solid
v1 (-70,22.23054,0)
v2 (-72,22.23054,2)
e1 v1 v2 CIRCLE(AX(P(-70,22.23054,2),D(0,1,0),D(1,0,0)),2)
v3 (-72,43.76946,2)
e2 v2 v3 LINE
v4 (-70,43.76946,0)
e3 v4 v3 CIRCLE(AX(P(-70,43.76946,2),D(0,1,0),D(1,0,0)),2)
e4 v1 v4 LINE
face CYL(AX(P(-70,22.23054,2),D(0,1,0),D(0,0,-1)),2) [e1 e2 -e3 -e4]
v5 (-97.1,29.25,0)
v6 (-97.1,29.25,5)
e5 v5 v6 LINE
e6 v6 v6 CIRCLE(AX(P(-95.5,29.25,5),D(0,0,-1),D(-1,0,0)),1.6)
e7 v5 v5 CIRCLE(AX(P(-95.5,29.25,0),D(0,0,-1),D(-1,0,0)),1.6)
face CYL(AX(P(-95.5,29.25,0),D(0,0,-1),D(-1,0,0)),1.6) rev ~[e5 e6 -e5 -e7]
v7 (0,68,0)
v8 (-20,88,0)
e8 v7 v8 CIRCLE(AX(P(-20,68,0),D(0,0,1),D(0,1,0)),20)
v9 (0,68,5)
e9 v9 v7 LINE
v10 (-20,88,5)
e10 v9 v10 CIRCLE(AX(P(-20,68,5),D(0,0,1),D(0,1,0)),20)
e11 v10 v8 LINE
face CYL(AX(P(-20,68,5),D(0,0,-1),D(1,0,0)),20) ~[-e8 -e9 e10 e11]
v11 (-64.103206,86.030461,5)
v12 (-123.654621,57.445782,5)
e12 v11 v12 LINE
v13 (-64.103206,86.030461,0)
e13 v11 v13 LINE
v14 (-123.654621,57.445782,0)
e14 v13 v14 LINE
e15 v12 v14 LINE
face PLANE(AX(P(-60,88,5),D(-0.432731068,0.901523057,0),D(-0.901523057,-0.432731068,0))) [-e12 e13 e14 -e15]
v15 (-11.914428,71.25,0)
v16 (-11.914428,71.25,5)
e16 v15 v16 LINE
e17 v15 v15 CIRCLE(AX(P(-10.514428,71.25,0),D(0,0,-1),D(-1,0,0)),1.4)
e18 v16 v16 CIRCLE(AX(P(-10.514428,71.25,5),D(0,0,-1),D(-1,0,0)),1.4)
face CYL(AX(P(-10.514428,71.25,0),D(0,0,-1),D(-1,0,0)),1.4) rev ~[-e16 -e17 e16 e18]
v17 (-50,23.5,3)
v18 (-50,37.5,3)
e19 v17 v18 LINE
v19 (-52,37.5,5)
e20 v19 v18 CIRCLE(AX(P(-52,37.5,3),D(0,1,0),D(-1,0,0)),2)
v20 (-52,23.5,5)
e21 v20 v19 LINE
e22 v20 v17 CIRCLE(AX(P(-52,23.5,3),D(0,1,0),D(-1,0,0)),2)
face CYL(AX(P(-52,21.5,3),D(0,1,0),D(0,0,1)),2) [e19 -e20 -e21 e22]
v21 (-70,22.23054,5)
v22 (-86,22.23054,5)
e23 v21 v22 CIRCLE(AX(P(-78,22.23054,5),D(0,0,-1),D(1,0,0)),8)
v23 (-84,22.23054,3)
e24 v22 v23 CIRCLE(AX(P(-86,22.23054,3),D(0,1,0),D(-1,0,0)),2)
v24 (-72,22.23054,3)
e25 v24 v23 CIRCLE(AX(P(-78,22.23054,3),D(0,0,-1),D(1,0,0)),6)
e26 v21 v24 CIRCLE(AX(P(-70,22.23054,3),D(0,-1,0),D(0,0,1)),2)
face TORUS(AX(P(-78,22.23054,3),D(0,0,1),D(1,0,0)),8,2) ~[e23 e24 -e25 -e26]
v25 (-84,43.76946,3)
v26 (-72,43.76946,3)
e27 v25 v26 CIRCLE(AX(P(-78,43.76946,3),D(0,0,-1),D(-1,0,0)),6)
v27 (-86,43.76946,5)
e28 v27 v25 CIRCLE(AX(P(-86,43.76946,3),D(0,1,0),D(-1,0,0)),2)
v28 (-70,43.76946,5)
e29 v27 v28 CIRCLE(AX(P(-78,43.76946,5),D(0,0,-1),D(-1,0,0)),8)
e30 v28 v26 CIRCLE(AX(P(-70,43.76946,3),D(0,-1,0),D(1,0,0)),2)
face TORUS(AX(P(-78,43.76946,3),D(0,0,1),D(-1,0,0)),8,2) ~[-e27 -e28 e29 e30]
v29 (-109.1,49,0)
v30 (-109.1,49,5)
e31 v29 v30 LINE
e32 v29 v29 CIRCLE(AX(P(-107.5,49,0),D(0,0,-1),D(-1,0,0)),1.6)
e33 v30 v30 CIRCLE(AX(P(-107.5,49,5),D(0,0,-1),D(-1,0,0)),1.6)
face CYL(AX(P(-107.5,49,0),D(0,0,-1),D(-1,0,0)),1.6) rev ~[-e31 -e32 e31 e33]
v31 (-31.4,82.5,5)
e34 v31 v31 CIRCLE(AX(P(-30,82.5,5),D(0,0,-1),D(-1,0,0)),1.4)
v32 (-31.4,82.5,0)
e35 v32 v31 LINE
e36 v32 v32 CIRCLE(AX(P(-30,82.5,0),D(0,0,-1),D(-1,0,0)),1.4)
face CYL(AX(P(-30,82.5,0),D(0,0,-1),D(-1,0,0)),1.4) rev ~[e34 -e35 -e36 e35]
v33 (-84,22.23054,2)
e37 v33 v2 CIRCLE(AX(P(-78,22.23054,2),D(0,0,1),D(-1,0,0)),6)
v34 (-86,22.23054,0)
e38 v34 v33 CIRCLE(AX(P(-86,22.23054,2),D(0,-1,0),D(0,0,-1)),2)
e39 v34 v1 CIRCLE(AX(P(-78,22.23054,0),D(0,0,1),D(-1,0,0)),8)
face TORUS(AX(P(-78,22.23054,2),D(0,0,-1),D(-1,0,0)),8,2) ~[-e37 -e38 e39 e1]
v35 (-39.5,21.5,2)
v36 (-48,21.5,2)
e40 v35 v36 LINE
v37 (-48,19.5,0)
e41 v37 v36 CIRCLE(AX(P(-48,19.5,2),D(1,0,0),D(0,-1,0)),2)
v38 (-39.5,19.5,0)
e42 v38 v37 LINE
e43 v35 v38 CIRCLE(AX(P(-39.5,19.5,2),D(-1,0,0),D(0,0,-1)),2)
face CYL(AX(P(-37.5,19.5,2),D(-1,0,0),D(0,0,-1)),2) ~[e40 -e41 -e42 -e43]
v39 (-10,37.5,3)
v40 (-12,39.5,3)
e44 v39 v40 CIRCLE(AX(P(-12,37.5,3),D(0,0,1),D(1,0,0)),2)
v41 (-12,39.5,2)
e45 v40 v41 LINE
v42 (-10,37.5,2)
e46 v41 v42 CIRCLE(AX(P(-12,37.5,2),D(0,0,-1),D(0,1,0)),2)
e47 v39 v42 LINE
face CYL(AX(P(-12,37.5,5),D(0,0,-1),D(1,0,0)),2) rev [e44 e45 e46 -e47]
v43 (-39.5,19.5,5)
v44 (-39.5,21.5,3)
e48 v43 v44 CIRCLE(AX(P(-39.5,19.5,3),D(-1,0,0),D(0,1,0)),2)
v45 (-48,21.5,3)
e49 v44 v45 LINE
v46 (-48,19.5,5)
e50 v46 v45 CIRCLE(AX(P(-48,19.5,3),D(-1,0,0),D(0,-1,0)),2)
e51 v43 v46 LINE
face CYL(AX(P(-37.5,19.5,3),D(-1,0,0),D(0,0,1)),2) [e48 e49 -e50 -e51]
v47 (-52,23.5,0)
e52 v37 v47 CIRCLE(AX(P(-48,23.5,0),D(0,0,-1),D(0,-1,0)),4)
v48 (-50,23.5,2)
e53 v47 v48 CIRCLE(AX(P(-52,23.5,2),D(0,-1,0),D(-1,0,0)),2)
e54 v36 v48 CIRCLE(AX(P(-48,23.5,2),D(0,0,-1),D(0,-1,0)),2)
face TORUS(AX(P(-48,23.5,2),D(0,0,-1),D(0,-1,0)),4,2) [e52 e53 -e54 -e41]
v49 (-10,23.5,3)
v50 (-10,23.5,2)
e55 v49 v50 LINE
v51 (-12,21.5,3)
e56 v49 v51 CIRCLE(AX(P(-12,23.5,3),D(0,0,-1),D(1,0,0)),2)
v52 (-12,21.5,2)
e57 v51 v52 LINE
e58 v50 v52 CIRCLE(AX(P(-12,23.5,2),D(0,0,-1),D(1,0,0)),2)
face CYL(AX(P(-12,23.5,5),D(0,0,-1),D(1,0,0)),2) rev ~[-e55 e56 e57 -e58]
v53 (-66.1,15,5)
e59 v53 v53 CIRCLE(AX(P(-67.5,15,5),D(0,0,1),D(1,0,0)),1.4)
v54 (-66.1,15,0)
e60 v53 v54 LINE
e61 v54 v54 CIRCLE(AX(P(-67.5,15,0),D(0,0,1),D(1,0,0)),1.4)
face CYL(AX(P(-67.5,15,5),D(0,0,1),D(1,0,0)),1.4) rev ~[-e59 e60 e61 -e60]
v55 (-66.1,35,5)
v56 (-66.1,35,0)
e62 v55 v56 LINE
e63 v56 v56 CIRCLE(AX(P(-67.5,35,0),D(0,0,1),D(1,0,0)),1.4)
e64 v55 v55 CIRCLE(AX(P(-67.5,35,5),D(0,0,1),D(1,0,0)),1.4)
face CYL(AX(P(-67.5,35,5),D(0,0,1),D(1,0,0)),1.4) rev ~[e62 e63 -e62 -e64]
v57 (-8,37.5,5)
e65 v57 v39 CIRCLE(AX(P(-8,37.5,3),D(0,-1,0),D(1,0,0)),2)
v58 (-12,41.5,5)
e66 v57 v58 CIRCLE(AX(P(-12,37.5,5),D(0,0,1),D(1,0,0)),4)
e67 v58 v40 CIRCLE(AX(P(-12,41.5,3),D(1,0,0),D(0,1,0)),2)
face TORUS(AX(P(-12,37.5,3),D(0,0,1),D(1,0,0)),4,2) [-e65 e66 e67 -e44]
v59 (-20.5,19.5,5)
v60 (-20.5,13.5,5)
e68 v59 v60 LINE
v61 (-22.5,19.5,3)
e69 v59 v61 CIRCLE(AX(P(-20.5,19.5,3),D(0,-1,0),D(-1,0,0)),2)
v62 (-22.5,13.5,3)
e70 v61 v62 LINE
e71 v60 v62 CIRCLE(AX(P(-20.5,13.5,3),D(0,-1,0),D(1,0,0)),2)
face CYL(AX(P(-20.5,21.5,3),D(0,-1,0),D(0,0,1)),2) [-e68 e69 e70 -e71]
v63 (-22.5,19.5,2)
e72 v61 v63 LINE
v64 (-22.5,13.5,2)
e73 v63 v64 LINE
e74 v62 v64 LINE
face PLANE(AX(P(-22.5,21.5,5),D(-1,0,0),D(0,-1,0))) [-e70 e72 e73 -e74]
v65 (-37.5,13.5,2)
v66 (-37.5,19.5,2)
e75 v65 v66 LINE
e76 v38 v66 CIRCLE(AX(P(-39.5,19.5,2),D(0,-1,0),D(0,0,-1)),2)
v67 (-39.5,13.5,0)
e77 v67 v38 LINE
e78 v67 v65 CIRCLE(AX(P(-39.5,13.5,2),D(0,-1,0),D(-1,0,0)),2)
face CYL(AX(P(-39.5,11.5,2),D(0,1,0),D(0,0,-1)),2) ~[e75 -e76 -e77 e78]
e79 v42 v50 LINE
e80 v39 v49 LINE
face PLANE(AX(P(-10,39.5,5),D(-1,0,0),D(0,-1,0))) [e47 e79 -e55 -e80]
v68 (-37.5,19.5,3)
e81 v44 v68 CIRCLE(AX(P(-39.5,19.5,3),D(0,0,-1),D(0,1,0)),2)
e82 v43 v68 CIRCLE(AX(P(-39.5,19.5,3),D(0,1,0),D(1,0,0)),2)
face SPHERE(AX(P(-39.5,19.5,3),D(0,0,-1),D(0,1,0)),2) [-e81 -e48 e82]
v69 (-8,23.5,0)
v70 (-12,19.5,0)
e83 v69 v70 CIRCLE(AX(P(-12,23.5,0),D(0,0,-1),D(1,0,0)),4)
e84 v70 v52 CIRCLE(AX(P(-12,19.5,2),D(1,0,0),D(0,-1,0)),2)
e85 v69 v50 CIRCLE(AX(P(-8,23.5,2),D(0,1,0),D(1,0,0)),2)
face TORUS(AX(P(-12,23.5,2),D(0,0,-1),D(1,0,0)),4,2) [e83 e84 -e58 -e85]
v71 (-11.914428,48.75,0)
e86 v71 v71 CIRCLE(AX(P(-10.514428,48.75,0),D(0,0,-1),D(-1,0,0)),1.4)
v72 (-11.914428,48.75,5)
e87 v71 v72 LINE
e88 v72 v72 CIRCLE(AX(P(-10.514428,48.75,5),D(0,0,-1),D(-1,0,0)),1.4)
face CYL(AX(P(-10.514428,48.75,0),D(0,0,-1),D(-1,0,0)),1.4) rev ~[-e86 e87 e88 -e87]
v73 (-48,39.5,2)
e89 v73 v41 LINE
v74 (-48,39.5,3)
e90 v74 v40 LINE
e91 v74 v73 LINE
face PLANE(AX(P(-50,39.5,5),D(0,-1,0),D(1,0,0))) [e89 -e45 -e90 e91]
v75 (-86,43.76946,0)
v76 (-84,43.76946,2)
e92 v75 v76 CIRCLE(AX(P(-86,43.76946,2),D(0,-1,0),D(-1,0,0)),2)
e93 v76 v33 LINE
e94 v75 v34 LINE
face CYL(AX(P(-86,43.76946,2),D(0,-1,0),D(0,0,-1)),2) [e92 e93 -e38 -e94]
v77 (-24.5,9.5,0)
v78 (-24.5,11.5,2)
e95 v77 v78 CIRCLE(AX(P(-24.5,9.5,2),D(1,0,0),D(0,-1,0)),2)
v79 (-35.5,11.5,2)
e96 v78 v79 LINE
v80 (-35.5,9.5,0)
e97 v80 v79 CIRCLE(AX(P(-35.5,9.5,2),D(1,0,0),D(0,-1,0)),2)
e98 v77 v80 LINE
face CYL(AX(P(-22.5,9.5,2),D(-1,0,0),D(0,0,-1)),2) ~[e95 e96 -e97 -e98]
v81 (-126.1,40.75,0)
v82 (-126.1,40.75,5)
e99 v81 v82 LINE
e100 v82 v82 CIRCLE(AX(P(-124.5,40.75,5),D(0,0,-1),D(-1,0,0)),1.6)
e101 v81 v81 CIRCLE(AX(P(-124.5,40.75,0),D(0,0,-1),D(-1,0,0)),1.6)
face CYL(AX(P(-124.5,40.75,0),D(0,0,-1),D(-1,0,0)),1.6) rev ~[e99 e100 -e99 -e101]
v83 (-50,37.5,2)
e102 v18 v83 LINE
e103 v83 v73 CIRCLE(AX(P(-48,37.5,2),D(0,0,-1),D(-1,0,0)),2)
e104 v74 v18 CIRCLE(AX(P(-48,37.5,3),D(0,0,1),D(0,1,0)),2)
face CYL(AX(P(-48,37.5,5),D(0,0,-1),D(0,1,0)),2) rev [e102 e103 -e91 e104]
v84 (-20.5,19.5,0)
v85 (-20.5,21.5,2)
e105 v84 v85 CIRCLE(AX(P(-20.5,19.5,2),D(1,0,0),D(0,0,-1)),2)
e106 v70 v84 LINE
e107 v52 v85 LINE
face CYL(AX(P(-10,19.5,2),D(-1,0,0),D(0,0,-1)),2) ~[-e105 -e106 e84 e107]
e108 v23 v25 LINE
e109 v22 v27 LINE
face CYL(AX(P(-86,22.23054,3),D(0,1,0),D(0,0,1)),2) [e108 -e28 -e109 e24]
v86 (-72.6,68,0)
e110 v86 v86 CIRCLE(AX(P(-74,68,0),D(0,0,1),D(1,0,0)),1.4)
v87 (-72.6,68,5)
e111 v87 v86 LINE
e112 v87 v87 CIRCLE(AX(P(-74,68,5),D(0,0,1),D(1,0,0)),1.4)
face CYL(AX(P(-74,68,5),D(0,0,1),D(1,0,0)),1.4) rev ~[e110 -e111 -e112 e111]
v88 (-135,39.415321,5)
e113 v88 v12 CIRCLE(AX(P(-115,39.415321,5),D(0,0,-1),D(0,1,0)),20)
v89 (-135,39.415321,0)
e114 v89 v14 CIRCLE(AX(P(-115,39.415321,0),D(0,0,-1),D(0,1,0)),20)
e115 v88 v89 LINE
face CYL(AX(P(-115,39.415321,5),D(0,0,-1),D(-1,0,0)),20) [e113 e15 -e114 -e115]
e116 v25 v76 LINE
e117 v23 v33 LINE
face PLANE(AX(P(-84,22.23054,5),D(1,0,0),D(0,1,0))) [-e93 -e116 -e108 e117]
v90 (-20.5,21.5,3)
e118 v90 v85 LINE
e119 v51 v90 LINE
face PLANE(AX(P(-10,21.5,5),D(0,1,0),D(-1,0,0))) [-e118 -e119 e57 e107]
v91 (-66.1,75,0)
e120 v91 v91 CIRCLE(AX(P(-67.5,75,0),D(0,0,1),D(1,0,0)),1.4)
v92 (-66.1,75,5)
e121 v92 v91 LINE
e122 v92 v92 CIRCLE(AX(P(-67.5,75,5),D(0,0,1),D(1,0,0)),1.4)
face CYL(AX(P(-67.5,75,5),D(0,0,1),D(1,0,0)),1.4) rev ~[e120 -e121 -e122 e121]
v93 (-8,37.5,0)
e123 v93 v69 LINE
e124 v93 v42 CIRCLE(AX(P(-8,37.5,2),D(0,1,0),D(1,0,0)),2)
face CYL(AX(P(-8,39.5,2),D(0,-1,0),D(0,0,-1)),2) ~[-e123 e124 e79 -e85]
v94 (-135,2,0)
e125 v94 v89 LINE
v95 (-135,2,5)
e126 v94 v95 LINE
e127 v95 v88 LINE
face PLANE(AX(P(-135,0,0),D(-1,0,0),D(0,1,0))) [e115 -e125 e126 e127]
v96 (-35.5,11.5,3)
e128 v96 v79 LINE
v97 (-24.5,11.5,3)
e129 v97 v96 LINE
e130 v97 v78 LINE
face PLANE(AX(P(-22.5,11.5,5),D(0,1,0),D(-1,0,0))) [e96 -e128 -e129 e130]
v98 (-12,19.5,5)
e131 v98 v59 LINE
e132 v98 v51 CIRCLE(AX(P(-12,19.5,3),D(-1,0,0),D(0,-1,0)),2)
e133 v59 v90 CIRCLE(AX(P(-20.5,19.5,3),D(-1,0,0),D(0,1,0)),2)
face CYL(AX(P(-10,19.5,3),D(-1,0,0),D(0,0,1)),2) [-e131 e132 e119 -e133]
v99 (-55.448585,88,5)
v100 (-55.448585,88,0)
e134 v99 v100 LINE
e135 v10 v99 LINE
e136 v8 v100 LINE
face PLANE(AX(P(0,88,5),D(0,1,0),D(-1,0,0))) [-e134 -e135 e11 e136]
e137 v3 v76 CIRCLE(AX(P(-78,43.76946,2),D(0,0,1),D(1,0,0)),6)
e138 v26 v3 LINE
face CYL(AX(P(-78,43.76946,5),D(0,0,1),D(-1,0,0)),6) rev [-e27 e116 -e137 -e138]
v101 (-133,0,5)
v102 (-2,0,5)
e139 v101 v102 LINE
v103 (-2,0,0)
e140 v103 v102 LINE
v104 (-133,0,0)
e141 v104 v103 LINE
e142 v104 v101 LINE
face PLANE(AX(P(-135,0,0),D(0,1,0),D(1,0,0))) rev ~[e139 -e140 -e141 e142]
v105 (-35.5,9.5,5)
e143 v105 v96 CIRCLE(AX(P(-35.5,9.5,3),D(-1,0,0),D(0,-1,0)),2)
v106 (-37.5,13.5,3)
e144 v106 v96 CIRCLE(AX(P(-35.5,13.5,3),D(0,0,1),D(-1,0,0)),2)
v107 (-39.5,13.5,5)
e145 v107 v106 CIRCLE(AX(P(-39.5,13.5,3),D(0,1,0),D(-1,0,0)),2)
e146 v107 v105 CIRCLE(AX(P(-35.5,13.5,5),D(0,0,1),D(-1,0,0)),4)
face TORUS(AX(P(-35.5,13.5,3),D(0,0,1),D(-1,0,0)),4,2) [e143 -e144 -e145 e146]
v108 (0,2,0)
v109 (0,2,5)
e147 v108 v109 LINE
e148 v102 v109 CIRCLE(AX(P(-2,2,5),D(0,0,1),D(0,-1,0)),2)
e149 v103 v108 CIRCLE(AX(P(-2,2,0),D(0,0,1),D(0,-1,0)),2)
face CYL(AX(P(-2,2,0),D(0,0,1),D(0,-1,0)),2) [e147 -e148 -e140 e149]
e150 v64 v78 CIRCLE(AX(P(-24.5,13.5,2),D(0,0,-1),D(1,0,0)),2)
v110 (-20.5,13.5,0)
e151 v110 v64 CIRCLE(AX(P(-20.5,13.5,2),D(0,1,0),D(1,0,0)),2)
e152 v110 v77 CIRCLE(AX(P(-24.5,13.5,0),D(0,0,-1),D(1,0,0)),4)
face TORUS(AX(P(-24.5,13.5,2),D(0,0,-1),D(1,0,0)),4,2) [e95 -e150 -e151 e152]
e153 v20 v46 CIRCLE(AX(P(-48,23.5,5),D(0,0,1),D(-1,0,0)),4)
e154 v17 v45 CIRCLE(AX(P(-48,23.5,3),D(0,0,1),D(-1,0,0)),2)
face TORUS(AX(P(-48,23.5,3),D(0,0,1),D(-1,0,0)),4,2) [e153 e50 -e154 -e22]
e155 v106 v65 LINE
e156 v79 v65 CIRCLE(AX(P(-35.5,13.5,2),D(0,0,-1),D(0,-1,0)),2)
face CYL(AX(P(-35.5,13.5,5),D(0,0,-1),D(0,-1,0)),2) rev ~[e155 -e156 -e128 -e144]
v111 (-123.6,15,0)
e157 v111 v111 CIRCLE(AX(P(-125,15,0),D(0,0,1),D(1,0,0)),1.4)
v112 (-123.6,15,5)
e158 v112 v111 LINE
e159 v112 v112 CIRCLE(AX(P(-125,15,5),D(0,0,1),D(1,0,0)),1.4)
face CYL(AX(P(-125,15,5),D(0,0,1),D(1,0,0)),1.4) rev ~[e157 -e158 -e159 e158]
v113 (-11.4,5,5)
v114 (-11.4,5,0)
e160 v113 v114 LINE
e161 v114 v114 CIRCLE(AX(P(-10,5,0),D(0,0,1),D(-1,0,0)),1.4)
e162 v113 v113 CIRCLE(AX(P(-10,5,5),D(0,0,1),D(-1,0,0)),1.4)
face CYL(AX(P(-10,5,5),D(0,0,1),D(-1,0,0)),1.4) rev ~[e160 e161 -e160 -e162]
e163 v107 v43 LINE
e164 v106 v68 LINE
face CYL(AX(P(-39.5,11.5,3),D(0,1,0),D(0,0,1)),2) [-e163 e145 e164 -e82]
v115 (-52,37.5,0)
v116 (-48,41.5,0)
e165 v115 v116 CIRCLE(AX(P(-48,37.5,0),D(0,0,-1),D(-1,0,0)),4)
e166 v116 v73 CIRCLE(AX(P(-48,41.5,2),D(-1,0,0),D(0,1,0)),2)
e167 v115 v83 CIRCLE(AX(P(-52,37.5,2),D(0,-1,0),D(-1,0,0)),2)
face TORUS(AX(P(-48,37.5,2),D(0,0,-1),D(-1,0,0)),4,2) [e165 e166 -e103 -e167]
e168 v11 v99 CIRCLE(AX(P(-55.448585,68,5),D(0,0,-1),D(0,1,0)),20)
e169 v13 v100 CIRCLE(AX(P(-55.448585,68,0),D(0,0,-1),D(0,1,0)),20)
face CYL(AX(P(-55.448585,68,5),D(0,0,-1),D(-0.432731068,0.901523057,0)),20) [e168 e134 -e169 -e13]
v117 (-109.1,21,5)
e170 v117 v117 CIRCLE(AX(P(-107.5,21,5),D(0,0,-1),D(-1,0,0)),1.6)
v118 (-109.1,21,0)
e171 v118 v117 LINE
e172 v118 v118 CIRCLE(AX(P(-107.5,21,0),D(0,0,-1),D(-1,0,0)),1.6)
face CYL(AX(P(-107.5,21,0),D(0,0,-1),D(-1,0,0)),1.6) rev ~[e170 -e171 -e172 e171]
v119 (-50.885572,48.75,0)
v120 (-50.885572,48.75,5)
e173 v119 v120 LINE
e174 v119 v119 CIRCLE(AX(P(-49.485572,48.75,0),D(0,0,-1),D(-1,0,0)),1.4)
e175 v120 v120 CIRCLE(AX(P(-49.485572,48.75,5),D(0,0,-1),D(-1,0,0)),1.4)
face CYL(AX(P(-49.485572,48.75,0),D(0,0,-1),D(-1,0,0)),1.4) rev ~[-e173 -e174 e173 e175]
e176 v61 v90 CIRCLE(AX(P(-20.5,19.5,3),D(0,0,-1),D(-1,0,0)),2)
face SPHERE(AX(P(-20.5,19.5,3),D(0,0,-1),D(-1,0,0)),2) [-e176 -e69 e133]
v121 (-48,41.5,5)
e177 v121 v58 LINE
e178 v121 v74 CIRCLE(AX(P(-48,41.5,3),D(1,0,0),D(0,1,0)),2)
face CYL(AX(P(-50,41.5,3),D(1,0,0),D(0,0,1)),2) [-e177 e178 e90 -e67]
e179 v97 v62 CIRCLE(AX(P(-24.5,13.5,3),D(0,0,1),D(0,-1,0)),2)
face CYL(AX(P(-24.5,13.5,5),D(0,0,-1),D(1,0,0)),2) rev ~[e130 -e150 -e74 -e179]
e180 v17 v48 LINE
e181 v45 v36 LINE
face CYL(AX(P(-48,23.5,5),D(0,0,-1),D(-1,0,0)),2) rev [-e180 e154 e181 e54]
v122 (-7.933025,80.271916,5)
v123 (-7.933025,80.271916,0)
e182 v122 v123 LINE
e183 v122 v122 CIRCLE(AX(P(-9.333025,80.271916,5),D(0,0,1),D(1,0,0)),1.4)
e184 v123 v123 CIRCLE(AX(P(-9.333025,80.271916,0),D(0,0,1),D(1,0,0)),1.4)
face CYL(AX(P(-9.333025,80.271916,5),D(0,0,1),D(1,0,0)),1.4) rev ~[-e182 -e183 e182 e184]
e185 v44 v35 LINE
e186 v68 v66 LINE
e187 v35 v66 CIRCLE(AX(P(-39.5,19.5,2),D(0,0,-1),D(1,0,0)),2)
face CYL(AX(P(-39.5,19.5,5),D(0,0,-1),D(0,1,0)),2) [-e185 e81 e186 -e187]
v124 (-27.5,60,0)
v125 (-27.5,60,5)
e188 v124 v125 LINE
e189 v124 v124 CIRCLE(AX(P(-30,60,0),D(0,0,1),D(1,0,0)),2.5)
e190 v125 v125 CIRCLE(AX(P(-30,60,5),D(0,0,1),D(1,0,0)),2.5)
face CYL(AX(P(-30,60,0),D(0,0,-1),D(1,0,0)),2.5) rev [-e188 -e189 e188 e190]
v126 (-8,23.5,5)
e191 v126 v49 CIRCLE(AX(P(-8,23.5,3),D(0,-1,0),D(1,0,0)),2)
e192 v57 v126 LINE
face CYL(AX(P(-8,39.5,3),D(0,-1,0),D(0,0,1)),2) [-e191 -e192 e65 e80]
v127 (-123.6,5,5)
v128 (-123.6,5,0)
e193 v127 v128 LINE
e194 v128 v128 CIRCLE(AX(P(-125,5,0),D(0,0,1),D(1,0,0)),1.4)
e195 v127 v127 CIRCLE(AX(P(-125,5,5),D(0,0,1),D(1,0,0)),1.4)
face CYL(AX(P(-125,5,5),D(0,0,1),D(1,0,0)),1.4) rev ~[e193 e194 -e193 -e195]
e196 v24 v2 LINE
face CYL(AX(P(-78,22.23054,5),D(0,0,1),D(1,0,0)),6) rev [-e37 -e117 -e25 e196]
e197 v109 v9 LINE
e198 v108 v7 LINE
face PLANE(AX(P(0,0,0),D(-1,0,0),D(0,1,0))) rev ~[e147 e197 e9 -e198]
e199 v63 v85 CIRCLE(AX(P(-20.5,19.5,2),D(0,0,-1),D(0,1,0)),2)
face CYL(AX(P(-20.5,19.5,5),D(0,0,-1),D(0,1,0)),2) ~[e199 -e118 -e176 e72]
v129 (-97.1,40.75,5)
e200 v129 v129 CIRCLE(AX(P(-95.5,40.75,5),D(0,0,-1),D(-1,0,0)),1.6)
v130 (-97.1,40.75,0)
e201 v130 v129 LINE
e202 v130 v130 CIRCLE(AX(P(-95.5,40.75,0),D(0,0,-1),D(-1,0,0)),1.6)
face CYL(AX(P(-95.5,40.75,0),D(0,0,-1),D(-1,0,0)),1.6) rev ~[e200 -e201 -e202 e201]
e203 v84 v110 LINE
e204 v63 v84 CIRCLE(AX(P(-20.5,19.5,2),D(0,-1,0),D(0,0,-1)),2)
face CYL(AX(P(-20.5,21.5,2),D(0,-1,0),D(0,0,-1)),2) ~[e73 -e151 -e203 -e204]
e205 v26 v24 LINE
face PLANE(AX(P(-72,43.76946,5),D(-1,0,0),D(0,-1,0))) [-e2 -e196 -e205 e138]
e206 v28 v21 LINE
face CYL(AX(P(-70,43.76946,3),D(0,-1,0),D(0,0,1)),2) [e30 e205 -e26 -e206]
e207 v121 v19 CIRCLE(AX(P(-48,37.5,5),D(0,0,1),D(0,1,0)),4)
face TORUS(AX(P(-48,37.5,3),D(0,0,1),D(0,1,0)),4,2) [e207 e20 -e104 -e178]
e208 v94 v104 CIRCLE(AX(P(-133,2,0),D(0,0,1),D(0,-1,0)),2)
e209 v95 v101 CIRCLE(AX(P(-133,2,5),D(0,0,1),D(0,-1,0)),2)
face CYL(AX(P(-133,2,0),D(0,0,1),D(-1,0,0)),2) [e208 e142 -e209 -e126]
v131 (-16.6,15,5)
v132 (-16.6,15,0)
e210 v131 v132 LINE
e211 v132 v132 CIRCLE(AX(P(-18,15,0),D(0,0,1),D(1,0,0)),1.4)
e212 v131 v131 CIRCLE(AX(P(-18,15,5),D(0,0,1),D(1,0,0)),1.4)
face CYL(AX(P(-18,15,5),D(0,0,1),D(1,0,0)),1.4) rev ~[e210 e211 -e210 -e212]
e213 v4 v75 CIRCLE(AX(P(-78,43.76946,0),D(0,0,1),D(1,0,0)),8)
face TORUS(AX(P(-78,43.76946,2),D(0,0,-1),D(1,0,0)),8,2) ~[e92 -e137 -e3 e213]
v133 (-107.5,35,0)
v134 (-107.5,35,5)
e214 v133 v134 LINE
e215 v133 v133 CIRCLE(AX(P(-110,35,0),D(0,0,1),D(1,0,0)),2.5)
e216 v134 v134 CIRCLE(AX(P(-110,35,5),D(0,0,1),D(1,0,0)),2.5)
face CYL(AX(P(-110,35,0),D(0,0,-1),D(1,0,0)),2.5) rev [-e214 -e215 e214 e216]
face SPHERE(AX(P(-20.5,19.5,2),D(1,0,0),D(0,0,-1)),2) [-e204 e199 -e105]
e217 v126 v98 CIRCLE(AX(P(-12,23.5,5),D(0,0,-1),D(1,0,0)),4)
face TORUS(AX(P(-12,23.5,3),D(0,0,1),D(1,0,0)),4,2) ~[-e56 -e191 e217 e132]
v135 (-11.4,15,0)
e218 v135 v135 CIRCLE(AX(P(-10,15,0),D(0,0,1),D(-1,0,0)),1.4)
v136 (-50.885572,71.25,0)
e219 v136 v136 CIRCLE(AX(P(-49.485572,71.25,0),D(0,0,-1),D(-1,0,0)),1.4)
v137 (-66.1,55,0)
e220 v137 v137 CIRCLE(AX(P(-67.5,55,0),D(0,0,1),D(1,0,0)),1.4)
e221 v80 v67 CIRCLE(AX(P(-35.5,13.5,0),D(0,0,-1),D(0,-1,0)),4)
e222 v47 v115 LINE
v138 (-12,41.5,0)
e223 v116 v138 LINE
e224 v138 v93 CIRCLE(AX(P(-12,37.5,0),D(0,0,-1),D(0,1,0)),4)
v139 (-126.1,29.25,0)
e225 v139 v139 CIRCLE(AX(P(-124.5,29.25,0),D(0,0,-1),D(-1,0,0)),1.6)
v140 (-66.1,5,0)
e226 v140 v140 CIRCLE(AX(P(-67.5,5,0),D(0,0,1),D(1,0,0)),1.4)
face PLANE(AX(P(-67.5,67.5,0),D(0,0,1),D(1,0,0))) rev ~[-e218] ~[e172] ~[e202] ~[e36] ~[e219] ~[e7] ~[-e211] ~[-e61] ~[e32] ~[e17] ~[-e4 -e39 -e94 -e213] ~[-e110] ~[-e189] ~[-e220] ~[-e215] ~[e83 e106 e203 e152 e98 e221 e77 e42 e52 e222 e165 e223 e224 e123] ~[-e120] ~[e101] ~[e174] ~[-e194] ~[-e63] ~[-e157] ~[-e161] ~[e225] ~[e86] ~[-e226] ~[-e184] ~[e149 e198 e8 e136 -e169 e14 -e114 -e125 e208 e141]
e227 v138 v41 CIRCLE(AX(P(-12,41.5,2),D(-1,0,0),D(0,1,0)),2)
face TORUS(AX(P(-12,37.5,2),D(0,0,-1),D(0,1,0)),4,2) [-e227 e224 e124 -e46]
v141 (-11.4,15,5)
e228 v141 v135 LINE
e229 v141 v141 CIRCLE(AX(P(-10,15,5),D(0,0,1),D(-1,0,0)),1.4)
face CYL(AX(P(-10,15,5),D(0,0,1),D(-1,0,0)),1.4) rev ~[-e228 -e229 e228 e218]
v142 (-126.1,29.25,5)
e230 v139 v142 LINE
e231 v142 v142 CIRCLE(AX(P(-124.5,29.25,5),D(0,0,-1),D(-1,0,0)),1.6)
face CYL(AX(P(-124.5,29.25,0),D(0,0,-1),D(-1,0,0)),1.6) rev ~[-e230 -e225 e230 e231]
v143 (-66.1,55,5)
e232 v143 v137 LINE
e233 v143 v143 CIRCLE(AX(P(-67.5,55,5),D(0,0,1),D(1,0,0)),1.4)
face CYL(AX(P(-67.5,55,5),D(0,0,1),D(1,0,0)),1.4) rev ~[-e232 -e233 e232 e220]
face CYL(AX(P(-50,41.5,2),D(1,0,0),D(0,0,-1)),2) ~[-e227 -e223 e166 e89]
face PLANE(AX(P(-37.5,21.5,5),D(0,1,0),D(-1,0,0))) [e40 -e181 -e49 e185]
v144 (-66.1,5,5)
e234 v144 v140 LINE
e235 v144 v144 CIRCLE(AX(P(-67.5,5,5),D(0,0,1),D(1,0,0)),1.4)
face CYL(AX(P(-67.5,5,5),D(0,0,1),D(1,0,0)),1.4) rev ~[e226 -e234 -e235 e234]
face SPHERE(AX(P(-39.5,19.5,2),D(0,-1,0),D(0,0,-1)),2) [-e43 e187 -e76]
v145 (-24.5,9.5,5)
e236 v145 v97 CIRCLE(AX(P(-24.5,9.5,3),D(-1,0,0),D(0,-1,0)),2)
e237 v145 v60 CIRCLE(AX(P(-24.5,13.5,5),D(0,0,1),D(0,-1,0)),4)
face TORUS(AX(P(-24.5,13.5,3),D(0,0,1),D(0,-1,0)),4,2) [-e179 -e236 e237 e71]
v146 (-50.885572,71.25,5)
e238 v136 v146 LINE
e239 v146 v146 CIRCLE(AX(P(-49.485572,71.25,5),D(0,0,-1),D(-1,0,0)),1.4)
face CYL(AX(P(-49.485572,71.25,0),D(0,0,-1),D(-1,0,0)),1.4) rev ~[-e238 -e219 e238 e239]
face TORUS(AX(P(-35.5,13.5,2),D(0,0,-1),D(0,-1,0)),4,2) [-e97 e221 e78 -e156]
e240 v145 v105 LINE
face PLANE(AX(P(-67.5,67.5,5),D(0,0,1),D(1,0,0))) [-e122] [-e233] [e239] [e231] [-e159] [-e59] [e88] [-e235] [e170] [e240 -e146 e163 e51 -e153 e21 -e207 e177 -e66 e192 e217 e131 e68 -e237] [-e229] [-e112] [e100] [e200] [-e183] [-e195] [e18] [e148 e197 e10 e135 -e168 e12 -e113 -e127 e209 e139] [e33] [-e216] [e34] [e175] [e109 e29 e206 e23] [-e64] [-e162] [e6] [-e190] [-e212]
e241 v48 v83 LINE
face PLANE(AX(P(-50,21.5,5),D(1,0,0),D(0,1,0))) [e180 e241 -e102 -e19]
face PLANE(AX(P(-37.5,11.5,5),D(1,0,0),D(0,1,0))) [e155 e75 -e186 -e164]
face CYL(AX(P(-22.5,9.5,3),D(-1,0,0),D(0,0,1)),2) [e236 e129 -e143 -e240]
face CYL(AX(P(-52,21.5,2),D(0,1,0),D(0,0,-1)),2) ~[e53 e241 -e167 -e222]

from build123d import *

# Parameters (mm, degrees)
SKETCH1_W           = 135
SKETCH1_H           = 135
SKETCH1_R           = 2.5
BOSS_EXTRUDE1_DEPTH = 5
SKETCH2_R           = 1.4
SKETCH2_R_2         = 1.6
CUT_EXTRUDE1_DEPTH  = 191.984292548
SKETCH4_W           = 480.511739947
SKETCH4_H           = 351.288945528
CUT_EXTRUDE2_DEPTH  = 191.984292548
CUT_EXTRUDE4_DEPTH  = 162.226548682
FILLET1_R           = 20
SKETCH5_R           = 1.4
CUT_EXTRUDE3_DEPTH  = 162.226548682
CUT_EXTRUDE5_DEPTH  = 162.226548682
FILLET2_R           = 2
SKETCH9_R           = 1.4
CUT_EXTRUDE6_DEPTH  = 162.226548682


with BuildPart() as part:
    # Sketch1 → Boss-Extrude1 (new body)
    with BuildSketch(Plane.XY):
        with Locations((-67.5, 67.5)):
            Rectangle(SKETCH1_W, SKETCH1_H)
        with Locations((-110, 35)):
            Circle(SKETCH1_R, mode=Mode.SUBTRACT)
        with Locations((-30, 60)):
            Circle(SKETCH1_R, mode=Mode.SUBTRACT)
    extrude(amount=BOSS_EXTRUDE1_DEPTH)

    # Sketch2 → Cut-Extrude1 (cut, through all)
    with BuildSketch(Plane(origin=(0, 0, 0), x_dir=(-1, 0, 0), z_dir=(0, 0, -1))):
        with Locations((30, 82.5)):
            Circle(SKETCH2_R)
        with Locations((49.485571585, 71.25)):
            Circle(SKETCH2_R)
        with Locations((49.485571585, 48.75)):
            Circle(SKETCH2_R)
        with Locations((10.514428415, 48.75)):
            Circle(SKETCH2_R)
        with Locations((10.514428415, 71.25)):
            Circle(SKETCH2_R)
        with Locations((95.5, 40.75)):
            Circle(SKETCH2_R_2)
        with Locations((107.5, 49)):
            Circle(SKETCH2_R_2)
        with Locations((124.5, 40.75)):
            Circle(SKETCH2_R_2)
        with Locations((124.5, 29.25)):
            Circle(SKETCH2_R_2)
        with Locations((107.5, 21)):
            Circle(SKETCH2_R_2)
        with Locations((95.5, 29.25)):
            Circle(SKETCH2_R_2)
    extrude(amount=-CUT_EXTRUDE1_DEPTH, mode=Mode.SUBTRACT)

    # Sketch4 → Cut-Extrude2 (cut, through all)
    with BuildSketch(Plane.XY.offset(5)):
        with Locations((-51.217905337, 23.305604751)):
            Rectangle(SKETCH4_W, SKETCH4_H)
        Polygon((-12, 0), (0, 0), (0, 88), (-60, 88), (-135, 52), (-135, 0), (-85, 0), align=None, mode=Mode.SUBTRACT)
    extrude(amount=-CUT_EXTRUDE2_DEPTH, mode=Mode.SUBTRACT)

    # Sketch7 → Cut-Extrude4 (cut, through all)
    with BuildSketch(Plane.XY.offset(5)):
        Polygon((-10, 21.5), (-22.5, 21.5), (-22.5, 11.5), (-37.5, 11.5), (-37.5, 21.5), (-50, 21.5), (-50, 39.5), (-10, 39.5), align=None)
    extrude(amount=-CUT_EXTRUDE4_DEPTH, mode=Mode.SUBTRACT)

    # Fillet1
    fillet1_edges = [part.edges().sort_by_distance(p)[0] for p in [
        (-135, 52, 2.5),
        (-60, 88, 2.5),
        (0, 88, 2.5),
    ]]
    fillet(fillet1_edges, radius=FILLET1_R)

    # Sketch5 → Cut-Extrude3 (cut, through all)
    with BuildSketch(Plane.XY.offset(5)):
        with Locations((-125, 15)):
            Circle(SKETCH5_R)
        with Locations((-125, 5)):
            Circle(SKETCH5_R)
        with Locations((-67.5, 5)):
            Circle(SKETCH5_R)
        with Locations((-67.5, 15)):
            Circle(SKETCH5_R)
        with Locations(Location((-10, 5, 0), (0, 0, 180))):
            Circle(SKETCH5_R)
        with Locations(Location((-10, 15, 0), (0, 0, 180))):
            Circle(SKETCH5_R)
        with Locations((-67.5, 35)):
            Circle(SKETCH5_R)
        with Locations((-67.5, 55)):
            Circle(SKETCH5_R)
        with Locations((-67.5, 75)):
            Circle(SKETCH5_R)
        with Locations((-9.333025476, 80.271916037)):
            Circle(SKETCH5_R)
    extrude(amount=-CUT_EXTRUDE3_DEPTH, mode=Mode.SUBTRACT)

    # Sketch8 → Cut-Extrude5 (cut, through all)
    with BuildSketch(Plane.XY.offset(5)):
        with BuildLine():
            Line((-72, 43.769459703), (-72, 22.230540297))
            ThreePointArc((-72, 22.230540297), (-78, 16.230540297), (-84, 22.230540297))
            Line((-84, 22.230540297), (-84, 43.769459703))
            ThreePointArc((-84, 43.769459703), (-78, 49.769459703), (-72, 43.769459703))
        make_face()
    extrude(amount=-CUT_EXTRUDE5_DEPTH, mode=Mode.SUBTRACT)

    # Fillet2
    fillet2_edges = [part.edges().sort_by_distance(p)[0] for p in [
        (-10, 30.5, 0),
        (-10, 39.5, 2.5),
        (-16.25, 21.5, 0),
        (-10, 21.5, 2.5),
        (-22.5, 16.5, 0),
        (-22.5, 21.5, 2.5),
        (-30, 11.5, 0),
        (-22.5, 11.5, 2.5),
        (-37.5, 16.5, 0),
        (-37.5, 11.5, 2.5),
        (-43.75, 21.5, 0),
        (-37.5, 21.5, 2.5),
        (-50, 30.5, 0),
        (-50, 21.5, 2.5),
        (-30, 39.5, 0),
        (-50, 39.5, 2.5),
        (-10, 30.5, 5),
        (-30, 39.5, 5),
        (-50, 30.5, 5),
        (-43.75, 21.5, 5),
        (-37.5, 16.5, 5),
        (-30, 11.5, 5),
        (-22.5, 16.5, 5),
        (-16.25, 21.5, 5),
        (-78, 49.769459703, 0),
        (-72, 33, 0),
        (-78, 16.230540297, 0),
        (-84, 33, 0),
        (-78, 49.769459703, 5),
        (-84, 33, 5),
        (-78, 16.230540297, 5),
        (-72, 33, 5),
        (0, 0, 2.5),
        (-135, 0, 2.5),
    ]]
    fillet(fillet2_edges, radius=FILLET2_R)

    # Sketch9 → Cut-Extrude6 (cut, through all)
    with BuildSketch(Plane.XY.offset(5)):
        with Locations((-18, 15)):
            Circle(SKETCH9_R)
        with Locations((-74, 68)):
            Circle(SKETCH9_R)
    extrude(amount=-CUT_EXTRUDE6_DEPTH, mode=Mode.SUBTRACT)


solid = part.part
